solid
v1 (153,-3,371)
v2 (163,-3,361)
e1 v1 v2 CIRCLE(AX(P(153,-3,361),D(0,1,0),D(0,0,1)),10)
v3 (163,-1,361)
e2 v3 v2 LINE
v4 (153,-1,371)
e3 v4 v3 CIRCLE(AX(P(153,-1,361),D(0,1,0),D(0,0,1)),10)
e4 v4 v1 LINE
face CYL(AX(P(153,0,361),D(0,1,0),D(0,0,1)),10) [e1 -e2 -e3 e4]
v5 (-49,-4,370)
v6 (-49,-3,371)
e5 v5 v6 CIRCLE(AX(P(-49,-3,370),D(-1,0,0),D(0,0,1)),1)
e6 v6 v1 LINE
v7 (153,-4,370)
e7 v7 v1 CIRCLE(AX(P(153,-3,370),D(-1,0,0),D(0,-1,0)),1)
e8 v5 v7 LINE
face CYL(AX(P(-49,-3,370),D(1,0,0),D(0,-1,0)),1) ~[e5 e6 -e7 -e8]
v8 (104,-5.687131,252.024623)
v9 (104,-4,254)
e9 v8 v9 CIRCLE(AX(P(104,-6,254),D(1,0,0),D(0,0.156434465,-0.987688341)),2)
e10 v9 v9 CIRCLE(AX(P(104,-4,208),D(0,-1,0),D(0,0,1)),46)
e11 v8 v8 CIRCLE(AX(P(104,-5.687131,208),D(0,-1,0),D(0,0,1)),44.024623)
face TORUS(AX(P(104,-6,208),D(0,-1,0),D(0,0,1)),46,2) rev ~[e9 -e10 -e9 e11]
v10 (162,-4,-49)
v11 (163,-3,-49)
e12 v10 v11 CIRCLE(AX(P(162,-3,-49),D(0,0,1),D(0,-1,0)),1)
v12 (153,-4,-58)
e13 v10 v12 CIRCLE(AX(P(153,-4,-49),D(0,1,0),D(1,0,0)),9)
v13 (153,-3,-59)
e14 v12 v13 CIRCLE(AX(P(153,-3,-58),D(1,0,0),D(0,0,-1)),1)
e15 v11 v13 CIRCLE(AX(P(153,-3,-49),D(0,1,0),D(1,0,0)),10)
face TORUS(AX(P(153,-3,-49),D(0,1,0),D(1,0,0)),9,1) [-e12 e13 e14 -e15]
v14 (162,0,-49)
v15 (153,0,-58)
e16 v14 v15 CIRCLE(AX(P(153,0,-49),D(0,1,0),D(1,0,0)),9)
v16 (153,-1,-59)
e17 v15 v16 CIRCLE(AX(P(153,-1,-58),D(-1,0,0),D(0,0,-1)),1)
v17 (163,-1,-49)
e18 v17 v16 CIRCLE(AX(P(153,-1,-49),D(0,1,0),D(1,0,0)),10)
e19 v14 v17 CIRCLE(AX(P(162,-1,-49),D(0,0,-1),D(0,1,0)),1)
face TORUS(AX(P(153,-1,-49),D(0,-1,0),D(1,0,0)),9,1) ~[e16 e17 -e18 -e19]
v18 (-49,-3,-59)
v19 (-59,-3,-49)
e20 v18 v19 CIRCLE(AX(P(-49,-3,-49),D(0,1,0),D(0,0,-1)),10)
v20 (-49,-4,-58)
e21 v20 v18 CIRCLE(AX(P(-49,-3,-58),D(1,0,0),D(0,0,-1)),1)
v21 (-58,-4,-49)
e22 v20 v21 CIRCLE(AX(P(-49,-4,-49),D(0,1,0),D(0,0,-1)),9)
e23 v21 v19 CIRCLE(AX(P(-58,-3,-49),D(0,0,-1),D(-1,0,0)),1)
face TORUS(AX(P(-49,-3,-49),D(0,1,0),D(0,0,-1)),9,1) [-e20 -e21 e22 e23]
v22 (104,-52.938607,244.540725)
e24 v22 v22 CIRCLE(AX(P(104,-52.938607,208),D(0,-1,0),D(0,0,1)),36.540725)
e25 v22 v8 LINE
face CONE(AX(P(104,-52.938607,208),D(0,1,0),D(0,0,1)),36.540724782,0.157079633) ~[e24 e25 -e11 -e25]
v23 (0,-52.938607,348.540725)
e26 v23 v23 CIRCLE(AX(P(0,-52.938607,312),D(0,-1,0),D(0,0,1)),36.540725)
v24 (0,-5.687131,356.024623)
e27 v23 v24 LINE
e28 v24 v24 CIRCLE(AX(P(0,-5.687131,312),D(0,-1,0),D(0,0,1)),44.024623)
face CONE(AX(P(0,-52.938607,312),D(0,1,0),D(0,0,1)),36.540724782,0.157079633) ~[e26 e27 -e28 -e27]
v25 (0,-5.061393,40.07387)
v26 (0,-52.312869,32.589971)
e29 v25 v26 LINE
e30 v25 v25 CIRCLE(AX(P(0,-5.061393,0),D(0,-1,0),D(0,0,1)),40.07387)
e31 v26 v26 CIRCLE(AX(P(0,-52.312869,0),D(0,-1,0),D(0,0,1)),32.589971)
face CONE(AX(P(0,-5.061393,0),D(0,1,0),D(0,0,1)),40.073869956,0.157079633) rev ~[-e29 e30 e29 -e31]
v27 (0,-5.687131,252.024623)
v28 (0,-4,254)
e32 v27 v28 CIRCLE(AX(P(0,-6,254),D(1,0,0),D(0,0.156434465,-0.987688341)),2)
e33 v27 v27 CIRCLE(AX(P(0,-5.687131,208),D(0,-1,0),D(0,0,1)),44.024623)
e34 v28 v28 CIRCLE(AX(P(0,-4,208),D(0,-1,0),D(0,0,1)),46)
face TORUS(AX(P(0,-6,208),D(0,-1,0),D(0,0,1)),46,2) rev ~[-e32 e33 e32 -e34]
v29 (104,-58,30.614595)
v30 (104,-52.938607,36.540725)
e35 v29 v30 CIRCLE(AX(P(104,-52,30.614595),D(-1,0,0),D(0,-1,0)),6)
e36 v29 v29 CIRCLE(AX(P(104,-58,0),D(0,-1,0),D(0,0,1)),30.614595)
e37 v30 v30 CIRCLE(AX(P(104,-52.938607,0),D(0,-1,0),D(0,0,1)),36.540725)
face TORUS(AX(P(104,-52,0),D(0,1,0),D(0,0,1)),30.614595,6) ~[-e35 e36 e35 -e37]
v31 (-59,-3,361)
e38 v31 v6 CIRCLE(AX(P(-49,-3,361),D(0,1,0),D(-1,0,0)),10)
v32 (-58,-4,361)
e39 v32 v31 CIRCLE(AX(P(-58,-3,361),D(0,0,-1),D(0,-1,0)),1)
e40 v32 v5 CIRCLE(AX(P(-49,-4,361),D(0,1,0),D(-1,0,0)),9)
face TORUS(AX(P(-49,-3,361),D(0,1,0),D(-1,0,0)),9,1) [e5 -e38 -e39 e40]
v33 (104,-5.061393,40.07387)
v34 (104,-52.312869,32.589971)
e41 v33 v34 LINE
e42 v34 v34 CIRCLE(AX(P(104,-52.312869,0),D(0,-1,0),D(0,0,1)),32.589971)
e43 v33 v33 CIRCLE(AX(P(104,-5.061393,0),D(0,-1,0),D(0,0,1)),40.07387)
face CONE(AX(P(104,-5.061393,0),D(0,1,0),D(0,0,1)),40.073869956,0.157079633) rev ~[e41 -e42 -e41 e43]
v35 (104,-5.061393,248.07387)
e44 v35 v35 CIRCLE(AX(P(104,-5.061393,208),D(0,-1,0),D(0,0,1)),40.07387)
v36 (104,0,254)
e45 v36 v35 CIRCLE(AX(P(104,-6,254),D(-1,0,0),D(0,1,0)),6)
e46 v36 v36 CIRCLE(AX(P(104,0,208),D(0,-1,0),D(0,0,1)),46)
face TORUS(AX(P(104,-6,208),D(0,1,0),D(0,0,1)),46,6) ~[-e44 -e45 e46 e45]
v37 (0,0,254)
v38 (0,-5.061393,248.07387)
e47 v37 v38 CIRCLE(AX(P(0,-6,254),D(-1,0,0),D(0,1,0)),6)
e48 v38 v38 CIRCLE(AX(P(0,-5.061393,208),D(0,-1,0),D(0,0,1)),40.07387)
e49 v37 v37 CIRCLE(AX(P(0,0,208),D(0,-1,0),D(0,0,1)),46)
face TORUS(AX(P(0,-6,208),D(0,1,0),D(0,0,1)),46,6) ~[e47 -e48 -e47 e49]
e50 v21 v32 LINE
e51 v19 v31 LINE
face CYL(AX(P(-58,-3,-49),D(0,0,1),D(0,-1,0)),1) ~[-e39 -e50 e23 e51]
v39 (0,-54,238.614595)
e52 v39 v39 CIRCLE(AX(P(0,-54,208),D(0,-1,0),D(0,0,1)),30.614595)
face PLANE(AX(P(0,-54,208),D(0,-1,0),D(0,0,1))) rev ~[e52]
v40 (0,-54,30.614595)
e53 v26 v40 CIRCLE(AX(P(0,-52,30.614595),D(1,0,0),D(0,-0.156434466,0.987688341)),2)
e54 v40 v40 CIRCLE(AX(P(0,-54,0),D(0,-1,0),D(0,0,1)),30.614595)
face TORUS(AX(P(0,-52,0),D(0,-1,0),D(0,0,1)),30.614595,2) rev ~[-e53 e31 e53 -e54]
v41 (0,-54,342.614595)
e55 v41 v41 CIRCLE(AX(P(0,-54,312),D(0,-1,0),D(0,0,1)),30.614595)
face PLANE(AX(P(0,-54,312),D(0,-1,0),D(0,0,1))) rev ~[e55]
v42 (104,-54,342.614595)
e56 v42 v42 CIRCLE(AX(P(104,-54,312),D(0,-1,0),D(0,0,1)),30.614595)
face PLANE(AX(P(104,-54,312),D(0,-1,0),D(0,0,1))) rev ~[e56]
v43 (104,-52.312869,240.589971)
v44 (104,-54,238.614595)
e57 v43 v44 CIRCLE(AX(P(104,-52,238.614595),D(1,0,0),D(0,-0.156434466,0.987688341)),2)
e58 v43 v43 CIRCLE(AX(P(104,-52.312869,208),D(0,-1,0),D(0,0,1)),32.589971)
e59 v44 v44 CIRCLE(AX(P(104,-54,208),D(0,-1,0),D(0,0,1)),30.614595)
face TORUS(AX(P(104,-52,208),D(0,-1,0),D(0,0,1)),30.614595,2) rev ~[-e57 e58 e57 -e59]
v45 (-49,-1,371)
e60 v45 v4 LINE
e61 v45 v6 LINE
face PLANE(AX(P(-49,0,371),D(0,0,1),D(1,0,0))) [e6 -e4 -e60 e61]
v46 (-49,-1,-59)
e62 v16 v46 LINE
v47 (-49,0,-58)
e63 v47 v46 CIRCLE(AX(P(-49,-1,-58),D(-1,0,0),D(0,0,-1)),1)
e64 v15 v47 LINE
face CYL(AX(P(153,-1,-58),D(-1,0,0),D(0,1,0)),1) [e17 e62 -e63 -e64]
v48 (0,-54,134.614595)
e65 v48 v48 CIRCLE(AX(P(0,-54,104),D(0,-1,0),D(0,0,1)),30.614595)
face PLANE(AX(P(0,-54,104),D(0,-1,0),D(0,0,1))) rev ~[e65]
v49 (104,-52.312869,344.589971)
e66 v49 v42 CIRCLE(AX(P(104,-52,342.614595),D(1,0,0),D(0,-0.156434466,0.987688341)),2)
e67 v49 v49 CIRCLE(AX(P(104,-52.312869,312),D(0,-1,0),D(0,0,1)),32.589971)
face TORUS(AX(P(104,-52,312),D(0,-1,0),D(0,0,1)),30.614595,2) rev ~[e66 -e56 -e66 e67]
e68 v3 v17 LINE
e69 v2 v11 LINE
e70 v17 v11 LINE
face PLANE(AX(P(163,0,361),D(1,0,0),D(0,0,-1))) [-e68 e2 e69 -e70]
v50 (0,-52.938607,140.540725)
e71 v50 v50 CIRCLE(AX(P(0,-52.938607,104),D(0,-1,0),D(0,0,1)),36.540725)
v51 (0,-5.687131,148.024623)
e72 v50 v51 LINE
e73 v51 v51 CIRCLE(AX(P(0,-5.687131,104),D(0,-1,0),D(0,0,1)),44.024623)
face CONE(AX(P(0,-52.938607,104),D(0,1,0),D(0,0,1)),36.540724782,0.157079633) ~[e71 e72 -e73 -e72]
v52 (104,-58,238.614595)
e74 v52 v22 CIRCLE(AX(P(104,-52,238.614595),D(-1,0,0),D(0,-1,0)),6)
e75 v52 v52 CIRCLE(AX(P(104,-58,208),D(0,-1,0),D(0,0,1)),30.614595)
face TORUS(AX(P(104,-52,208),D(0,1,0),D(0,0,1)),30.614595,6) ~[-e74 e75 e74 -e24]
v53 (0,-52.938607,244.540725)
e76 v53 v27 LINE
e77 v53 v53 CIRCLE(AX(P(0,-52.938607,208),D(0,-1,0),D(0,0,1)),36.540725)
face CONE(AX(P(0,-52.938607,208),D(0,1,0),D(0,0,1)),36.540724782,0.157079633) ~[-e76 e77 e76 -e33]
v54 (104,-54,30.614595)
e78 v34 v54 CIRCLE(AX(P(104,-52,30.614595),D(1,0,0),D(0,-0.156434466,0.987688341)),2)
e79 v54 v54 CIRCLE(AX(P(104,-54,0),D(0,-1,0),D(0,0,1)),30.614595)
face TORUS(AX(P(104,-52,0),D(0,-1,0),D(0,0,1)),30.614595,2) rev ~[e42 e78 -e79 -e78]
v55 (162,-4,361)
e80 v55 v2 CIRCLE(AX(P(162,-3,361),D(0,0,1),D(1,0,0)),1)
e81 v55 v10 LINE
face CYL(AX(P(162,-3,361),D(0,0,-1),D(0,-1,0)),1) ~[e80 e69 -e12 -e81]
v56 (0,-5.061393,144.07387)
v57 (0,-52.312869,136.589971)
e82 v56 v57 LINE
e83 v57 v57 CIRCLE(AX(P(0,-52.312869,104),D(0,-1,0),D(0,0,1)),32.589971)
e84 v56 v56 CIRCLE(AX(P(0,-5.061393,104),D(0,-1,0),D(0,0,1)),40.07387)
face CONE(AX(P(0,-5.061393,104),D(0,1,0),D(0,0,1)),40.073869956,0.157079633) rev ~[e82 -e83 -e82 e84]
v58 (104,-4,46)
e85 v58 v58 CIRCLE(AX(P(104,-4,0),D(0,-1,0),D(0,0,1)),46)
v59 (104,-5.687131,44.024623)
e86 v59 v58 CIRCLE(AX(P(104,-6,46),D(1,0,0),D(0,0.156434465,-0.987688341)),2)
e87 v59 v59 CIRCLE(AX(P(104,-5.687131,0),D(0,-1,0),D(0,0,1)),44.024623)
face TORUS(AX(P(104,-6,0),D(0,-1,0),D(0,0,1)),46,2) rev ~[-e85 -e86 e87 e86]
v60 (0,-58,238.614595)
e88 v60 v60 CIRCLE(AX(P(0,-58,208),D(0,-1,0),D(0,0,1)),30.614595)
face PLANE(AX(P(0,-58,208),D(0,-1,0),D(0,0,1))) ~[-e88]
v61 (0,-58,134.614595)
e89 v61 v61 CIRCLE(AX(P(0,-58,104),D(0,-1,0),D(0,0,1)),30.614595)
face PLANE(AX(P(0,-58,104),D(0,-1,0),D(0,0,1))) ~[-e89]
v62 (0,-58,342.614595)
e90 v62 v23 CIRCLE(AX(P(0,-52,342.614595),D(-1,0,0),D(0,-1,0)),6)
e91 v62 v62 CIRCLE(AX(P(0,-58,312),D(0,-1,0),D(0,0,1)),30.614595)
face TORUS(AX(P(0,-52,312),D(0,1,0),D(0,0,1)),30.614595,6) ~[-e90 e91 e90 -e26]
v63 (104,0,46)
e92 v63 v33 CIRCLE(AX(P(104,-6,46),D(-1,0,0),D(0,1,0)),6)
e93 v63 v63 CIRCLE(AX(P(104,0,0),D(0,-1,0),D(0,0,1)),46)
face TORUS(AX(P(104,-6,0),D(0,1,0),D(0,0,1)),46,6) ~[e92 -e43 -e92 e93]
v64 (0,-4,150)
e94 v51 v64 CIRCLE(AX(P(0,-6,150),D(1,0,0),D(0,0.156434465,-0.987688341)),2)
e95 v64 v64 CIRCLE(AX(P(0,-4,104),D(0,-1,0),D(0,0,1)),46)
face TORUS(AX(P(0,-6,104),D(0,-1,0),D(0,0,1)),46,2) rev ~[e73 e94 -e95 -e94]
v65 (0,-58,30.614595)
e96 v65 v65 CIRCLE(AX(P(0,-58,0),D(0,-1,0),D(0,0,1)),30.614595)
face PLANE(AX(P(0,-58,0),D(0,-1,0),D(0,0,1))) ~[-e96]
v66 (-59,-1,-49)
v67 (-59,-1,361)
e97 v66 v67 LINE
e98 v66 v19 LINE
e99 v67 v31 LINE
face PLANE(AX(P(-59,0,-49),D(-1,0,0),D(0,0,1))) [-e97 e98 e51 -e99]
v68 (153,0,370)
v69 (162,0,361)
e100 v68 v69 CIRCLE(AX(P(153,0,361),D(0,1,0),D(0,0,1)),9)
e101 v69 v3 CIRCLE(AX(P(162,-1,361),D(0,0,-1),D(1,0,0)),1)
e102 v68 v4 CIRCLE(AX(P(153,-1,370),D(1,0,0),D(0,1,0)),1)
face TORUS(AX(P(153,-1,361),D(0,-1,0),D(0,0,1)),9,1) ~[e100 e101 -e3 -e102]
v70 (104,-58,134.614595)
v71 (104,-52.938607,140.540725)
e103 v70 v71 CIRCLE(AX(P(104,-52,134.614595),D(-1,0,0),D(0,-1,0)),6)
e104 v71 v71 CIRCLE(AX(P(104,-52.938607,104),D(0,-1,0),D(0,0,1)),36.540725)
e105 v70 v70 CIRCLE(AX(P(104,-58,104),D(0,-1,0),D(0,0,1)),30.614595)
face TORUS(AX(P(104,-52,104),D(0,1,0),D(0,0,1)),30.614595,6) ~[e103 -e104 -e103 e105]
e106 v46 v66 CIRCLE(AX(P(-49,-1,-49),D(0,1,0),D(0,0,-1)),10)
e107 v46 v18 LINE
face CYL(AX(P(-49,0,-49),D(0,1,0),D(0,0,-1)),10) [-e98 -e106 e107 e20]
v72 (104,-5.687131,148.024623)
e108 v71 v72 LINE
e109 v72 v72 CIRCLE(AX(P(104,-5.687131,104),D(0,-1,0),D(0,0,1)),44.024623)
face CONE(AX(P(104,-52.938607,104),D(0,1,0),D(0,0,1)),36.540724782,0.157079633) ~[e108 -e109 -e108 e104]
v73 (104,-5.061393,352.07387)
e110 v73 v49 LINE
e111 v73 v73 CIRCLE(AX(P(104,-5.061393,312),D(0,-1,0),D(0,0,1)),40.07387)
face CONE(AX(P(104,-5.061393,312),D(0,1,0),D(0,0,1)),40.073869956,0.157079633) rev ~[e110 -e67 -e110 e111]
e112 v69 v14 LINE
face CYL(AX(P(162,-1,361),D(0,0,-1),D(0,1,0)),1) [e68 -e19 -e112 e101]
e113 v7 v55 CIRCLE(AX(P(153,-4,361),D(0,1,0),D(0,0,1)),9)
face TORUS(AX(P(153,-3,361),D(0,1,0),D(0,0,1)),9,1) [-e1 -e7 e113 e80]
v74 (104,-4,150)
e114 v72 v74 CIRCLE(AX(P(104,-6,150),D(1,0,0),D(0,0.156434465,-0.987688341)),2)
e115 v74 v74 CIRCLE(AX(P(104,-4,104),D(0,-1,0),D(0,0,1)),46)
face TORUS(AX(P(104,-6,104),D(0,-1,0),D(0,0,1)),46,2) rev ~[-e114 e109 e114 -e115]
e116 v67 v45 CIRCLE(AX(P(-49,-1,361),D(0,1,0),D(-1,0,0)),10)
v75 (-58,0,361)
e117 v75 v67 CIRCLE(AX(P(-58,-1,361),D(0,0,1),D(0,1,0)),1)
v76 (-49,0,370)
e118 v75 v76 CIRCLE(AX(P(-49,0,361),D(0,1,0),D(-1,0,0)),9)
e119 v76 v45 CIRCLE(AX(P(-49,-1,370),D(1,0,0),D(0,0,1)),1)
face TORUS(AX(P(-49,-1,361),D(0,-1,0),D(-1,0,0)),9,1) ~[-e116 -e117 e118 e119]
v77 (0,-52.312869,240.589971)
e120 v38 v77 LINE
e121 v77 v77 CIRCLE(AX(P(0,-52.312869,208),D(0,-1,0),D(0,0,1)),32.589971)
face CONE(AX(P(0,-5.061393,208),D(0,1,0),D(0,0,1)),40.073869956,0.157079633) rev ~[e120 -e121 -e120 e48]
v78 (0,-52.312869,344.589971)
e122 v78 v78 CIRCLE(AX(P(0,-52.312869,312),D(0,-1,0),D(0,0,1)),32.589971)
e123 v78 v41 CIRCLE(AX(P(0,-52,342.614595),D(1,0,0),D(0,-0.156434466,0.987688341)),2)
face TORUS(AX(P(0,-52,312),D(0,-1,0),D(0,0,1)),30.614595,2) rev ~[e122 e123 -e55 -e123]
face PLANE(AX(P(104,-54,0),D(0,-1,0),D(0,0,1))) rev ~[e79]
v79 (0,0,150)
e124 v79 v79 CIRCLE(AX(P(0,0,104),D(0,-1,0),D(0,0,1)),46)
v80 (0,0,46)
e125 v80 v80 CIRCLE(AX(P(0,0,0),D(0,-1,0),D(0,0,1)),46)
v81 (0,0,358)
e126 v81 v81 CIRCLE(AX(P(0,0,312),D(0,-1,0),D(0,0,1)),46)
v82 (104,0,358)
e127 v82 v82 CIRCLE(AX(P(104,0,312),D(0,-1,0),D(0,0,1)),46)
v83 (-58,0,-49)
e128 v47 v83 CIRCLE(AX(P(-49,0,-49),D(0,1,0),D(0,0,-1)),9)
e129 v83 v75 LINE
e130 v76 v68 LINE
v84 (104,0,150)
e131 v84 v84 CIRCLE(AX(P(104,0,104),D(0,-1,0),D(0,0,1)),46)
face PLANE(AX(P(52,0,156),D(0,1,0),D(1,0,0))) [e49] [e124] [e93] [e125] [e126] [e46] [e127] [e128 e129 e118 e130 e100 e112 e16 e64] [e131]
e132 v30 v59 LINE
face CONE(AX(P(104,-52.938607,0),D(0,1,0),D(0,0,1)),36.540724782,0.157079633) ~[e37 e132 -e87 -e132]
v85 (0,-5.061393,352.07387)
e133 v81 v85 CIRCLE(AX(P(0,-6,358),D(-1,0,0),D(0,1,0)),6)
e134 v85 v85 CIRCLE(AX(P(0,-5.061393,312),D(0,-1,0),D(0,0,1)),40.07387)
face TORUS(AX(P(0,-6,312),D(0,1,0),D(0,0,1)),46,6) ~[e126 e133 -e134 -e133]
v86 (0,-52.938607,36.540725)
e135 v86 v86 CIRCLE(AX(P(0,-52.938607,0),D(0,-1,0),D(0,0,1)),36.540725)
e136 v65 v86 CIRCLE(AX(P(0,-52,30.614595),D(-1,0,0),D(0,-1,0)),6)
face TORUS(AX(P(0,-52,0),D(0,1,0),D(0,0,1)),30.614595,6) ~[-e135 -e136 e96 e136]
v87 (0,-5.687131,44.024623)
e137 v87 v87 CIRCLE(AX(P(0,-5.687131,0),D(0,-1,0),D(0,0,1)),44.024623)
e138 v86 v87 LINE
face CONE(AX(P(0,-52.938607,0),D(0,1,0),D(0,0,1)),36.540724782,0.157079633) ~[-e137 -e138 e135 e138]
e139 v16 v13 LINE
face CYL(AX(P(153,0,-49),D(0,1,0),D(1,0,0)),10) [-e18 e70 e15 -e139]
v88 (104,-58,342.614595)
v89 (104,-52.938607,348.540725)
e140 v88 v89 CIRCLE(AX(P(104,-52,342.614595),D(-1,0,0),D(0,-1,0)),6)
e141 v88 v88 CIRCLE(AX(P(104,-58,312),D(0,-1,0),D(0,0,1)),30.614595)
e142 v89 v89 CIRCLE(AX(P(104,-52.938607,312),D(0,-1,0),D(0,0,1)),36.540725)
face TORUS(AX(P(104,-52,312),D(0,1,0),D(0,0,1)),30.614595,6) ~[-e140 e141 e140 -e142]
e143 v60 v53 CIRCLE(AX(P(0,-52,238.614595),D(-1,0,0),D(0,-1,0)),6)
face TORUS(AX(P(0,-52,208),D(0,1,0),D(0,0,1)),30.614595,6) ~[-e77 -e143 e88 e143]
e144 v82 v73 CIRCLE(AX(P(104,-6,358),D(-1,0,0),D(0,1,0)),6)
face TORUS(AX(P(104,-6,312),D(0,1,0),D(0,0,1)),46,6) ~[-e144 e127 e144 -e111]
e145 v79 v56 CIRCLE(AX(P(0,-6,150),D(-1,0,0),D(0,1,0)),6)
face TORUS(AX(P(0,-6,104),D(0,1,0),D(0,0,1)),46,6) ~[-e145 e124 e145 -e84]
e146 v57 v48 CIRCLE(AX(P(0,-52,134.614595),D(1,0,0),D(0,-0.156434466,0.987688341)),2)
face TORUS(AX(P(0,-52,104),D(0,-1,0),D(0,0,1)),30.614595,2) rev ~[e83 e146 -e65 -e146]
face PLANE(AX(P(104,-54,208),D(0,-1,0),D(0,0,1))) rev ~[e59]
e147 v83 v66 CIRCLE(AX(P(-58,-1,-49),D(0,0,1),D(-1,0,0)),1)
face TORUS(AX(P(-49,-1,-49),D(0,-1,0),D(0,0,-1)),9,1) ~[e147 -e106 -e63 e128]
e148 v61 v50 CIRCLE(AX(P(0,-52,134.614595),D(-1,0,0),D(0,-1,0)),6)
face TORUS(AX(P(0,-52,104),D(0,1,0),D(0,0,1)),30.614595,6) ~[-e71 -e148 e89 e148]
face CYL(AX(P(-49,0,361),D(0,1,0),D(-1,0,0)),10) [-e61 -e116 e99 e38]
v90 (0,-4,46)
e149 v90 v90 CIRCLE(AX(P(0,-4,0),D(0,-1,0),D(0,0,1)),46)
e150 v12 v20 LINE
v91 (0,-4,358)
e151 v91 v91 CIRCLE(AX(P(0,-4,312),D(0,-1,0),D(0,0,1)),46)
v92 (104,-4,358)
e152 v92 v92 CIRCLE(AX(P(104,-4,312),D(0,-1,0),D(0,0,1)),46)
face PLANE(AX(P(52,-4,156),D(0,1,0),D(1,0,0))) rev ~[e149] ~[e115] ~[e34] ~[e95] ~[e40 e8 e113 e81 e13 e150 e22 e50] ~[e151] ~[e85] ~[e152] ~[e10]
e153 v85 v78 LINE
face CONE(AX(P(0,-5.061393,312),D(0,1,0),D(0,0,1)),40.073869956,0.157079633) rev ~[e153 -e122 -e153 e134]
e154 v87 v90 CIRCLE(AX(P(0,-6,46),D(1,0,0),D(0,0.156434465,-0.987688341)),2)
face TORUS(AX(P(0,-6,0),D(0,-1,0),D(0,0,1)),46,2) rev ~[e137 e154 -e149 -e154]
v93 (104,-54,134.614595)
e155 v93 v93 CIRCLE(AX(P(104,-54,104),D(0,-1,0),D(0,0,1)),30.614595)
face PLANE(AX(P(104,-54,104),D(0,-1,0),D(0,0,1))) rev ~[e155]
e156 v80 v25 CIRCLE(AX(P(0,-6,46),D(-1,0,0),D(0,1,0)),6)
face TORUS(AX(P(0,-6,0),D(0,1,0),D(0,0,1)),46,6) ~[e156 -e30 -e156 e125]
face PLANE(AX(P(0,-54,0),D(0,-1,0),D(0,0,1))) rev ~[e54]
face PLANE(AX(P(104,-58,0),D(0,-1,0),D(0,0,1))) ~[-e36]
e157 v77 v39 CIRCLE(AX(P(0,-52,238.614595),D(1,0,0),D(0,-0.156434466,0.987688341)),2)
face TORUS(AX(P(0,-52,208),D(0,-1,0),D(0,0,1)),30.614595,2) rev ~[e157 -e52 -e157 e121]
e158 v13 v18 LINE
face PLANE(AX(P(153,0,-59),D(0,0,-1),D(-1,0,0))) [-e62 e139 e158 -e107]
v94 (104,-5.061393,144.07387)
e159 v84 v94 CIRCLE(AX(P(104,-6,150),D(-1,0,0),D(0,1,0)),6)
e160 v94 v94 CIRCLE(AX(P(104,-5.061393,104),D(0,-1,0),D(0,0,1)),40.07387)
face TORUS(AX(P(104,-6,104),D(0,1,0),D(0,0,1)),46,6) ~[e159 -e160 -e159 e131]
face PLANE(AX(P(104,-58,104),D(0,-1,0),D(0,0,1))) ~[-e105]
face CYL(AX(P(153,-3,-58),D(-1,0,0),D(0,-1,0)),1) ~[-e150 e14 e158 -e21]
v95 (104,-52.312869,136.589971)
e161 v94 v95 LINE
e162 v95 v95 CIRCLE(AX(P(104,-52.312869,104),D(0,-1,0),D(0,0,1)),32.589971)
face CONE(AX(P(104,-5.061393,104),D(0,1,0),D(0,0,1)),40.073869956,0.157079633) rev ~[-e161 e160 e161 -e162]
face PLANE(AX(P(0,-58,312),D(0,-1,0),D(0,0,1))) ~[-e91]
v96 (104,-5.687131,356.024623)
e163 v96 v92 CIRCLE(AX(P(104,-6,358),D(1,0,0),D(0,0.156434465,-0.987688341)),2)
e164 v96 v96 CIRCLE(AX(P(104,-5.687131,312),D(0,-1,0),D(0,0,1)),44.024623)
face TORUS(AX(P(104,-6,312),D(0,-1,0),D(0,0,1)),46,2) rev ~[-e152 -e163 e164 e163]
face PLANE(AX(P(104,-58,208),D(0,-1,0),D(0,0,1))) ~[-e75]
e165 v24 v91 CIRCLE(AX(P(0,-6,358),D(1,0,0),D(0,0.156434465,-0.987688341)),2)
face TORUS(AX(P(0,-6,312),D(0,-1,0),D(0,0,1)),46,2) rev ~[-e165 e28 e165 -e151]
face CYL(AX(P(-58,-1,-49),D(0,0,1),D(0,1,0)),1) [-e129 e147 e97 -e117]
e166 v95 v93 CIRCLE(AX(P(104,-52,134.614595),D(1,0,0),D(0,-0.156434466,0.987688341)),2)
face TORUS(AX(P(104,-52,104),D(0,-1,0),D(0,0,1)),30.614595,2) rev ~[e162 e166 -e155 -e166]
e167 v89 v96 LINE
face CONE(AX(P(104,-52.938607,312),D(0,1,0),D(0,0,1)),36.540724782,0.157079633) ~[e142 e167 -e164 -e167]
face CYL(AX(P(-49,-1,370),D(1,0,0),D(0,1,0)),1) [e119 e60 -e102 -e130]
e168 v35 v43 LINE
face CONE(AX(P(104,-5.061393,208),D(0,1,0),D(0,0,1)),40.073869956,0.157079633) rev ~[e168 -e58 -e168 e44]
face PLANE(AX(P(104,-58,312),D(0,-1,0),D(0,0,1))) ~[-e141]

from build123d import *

# Parameters (mm, degrees)
LPATTERN1_COUNT     = 2
LPATTERN1_PITCH     = 104
LPATTERN1_2_COUNT   = 4
LPATTERN1_2_PITCH   = 104
SKETCH2_R           = 47
BOSS_EXTRUDE1_DEPTH = 4
FILLET1_R           = 1


with BuildPart() as part:
    # Sketch1 → Revolve1 (revolve)
    with BuildSketch(Plane(origin=(0, 0, 0), x_dir=(0, 0, -1), z_dir=(1, 0, 0))):
        with BuildLine():
            Line((0, -58), (-30.614594739, -58))
            ThreePointArc((-30.614594739, -58), (-34.511283029, -56.562435794), (-36.540724782, -52.93860679))
            Line((-36.540724782, -52.93860679), (-44.024623319, -5.68713107))
            ThreePointArc((-44.024623319, -5.68713107), (-44.701103903, -4.479188069), (-46, -4))
            Line((-46, -4), (-47, -4))
            Line((-47, -4), (-47, 0))
            Line((-47, 0), (-46, 0))
            ThreePointArc((-46, 0), (-42.10331171, -1.437564206), (-40.073869956, -5.06139321))
            Line((-40.073869956, -5.06139321), (-32.58997142, -52.31286893))
            ThreePointArc((-32.58997142, -52.31286893), (-31.913490835, -53.520811931), (-30.614594739, -54))
            Line((-30.614594739, -54), (0, -54))
            Line((0, -54), (0, -58))
        make_face()
    revolve(axis=Axis((0, 0, 0), (0, -1, 0)))


with BuildPart() as lpattern1_1:
    # LPattern1: pattern copy
    add(part.part.moved(Location(Vector(1, 0, 0) * (1 * LPATTERN1_PITCH))))


with BuildPart() as lpattern1_2_1:
    # LPattern1 2: pattern copy
    add(part.part.moved(Location(Vector(0, 0, 1) * (1 * LPATTERN1_2_PITCH))))


with BuildPart() as lpattern1_2_2:
    # LPattern1 2: pattern copy
    add(part.part.moved(Location(Vector(0, 0, 1) * (2 * LPATTERN1_2_PITCH))))


with BuildPart() as lpattern1_2_3:
    # LPattern1 2: pattern copy
    add(part.part.moved(Location(Vector(0, 0, 1) * (3 * LPATTERN1_2_PITCH))))


with BuildPart() as lpattern1_2_4:
    # LPattern1 2: pattern copy
    add(lpattern1_1.part.moved(Location(Vector(0, 0, 1) * (1 * LPATTERN1_2_PITCH))))


with BuildPart() as lpattern1_2_5:
    # LPattern1 2: pattern copy
    add(lpattern1_1.part.moved(Location(Vector(0, 0, 1) * (2 * LPATTERN1_2_PITCH))))


with BuildPart() as lpattern1_2_6:
    # LPattern1 2: pattern copy
    add(lpattern1_1.part.moved(Location(Vector(0, 0, 1) * (3 * LPATTERN1_2_PITCH))))


with BuildPart() as part_1:
    add(part.part)

    add(lpattern1_1.part)  # Boss-Extrude1 merges LPattern1_1

    add(lpattern1_2_1.part)  # Boss-Extrude1 merges LPattern1 2_1

    add(lpattern1_2_2.part)  # Boss-Extrude1 merges LPattern1 2_2

    add(lpattern1_2_3.part)  # Boss-Extrude1 merges LPattern1 2_3

    add(lpattern1_2_4.part)  # Boss-Extrude1 merges LPattern1 2_4

    add(lpattern1_2_5.part)  # Boss-Extrude1 merges LPattern1 2_5

    add(lpattern1_2_6.part)  # Boss-Extrude1 merges LPattern1 2_6
    # Sketch2 → Boss-Extrude1 (add)
    with BuildSketch(Plane(origin=(0, 0, 0), x_dir=(1, 0, 0), z_dir=(0, 1, 0))):
        with BuildLine():
            Line((-49, -371), (153, -371))
            ThreePointArc((153, -371), (160.071067812, -368.071067812), (163, -361))
            Line((163, -361), (163, 49))
            ThreePointArc((163, 49), (160.071067812, 56.071067812), (153, 59))
            Line((153, 59), (-49, 59))
            ThreePointArc((-49, 59), (-56.071067812, 56.071067812), (-59, 49))
            Line((-59, 49), (-59, -361))
            ThreePointArc((-59, -361), (-56.071067812, -368.071067812), (-49, -371))
        make_face()
        with Locations((0, -312)):
            Circle(SKETCH2_R, mode=Mode.SUBTRACT)
        with Locations((104, -312)):
            Circle(SKETCH2_R, mode=Mode.SUBTRACT)
        with Locations((104, -208)):
            Circle(SKETCH2_R, mode=Mode.SUBTRACT)
        with Locations((0, -208)):
            Circle(SKETCH2_R, mode=Mode.SUBTRACT)
        with Locations((0, -104)):
            Circle(SKETCH2_R, mode=Mode.SUBTRACT)
        with Locations((104, -104)):
            Circle(SKETCH2_R, mode=Mode.SUBTRACT)
        with Locations((104, 0)):
            Circle(SKETCH2_R, mode=Mode.SUBTRACT)
        Circle(SKETCH2_R, mode=Mode.SUBTRACT)
    extrude(amount=-BOSS_EXTRUDE1_DEPTH)

    # Fillet1
    fillet1_edges = [part_1.edges().sort_by_distance(p)[0] for p in [
        (-56.071067812, -4, -56.071067812),
        (52, -4, -59),
        (160.071067812, -4, -56.071067812),
        (163, -4, 156),
        (160.071067812, -4, 368.071067812),
        (52, -4, 371),
        (-56.071067812, -4, 368.071067812),
        (-59, -4, 156),
        (-56.071067812, 0, -56.071067812),
        (-59, 0, 156),
        (-56.071067812, 0, 368.071067812),
        (52, 0, 371),
        (160.071067812, 0, 368.071067812),
        (163, 0, 156),
        (160.071067812, 0, -56.071067812),
        (52, 0, -59),
    ]]
    fillet(fillet1_edges, radius=FILLET1_R)


solid = part_1.part
